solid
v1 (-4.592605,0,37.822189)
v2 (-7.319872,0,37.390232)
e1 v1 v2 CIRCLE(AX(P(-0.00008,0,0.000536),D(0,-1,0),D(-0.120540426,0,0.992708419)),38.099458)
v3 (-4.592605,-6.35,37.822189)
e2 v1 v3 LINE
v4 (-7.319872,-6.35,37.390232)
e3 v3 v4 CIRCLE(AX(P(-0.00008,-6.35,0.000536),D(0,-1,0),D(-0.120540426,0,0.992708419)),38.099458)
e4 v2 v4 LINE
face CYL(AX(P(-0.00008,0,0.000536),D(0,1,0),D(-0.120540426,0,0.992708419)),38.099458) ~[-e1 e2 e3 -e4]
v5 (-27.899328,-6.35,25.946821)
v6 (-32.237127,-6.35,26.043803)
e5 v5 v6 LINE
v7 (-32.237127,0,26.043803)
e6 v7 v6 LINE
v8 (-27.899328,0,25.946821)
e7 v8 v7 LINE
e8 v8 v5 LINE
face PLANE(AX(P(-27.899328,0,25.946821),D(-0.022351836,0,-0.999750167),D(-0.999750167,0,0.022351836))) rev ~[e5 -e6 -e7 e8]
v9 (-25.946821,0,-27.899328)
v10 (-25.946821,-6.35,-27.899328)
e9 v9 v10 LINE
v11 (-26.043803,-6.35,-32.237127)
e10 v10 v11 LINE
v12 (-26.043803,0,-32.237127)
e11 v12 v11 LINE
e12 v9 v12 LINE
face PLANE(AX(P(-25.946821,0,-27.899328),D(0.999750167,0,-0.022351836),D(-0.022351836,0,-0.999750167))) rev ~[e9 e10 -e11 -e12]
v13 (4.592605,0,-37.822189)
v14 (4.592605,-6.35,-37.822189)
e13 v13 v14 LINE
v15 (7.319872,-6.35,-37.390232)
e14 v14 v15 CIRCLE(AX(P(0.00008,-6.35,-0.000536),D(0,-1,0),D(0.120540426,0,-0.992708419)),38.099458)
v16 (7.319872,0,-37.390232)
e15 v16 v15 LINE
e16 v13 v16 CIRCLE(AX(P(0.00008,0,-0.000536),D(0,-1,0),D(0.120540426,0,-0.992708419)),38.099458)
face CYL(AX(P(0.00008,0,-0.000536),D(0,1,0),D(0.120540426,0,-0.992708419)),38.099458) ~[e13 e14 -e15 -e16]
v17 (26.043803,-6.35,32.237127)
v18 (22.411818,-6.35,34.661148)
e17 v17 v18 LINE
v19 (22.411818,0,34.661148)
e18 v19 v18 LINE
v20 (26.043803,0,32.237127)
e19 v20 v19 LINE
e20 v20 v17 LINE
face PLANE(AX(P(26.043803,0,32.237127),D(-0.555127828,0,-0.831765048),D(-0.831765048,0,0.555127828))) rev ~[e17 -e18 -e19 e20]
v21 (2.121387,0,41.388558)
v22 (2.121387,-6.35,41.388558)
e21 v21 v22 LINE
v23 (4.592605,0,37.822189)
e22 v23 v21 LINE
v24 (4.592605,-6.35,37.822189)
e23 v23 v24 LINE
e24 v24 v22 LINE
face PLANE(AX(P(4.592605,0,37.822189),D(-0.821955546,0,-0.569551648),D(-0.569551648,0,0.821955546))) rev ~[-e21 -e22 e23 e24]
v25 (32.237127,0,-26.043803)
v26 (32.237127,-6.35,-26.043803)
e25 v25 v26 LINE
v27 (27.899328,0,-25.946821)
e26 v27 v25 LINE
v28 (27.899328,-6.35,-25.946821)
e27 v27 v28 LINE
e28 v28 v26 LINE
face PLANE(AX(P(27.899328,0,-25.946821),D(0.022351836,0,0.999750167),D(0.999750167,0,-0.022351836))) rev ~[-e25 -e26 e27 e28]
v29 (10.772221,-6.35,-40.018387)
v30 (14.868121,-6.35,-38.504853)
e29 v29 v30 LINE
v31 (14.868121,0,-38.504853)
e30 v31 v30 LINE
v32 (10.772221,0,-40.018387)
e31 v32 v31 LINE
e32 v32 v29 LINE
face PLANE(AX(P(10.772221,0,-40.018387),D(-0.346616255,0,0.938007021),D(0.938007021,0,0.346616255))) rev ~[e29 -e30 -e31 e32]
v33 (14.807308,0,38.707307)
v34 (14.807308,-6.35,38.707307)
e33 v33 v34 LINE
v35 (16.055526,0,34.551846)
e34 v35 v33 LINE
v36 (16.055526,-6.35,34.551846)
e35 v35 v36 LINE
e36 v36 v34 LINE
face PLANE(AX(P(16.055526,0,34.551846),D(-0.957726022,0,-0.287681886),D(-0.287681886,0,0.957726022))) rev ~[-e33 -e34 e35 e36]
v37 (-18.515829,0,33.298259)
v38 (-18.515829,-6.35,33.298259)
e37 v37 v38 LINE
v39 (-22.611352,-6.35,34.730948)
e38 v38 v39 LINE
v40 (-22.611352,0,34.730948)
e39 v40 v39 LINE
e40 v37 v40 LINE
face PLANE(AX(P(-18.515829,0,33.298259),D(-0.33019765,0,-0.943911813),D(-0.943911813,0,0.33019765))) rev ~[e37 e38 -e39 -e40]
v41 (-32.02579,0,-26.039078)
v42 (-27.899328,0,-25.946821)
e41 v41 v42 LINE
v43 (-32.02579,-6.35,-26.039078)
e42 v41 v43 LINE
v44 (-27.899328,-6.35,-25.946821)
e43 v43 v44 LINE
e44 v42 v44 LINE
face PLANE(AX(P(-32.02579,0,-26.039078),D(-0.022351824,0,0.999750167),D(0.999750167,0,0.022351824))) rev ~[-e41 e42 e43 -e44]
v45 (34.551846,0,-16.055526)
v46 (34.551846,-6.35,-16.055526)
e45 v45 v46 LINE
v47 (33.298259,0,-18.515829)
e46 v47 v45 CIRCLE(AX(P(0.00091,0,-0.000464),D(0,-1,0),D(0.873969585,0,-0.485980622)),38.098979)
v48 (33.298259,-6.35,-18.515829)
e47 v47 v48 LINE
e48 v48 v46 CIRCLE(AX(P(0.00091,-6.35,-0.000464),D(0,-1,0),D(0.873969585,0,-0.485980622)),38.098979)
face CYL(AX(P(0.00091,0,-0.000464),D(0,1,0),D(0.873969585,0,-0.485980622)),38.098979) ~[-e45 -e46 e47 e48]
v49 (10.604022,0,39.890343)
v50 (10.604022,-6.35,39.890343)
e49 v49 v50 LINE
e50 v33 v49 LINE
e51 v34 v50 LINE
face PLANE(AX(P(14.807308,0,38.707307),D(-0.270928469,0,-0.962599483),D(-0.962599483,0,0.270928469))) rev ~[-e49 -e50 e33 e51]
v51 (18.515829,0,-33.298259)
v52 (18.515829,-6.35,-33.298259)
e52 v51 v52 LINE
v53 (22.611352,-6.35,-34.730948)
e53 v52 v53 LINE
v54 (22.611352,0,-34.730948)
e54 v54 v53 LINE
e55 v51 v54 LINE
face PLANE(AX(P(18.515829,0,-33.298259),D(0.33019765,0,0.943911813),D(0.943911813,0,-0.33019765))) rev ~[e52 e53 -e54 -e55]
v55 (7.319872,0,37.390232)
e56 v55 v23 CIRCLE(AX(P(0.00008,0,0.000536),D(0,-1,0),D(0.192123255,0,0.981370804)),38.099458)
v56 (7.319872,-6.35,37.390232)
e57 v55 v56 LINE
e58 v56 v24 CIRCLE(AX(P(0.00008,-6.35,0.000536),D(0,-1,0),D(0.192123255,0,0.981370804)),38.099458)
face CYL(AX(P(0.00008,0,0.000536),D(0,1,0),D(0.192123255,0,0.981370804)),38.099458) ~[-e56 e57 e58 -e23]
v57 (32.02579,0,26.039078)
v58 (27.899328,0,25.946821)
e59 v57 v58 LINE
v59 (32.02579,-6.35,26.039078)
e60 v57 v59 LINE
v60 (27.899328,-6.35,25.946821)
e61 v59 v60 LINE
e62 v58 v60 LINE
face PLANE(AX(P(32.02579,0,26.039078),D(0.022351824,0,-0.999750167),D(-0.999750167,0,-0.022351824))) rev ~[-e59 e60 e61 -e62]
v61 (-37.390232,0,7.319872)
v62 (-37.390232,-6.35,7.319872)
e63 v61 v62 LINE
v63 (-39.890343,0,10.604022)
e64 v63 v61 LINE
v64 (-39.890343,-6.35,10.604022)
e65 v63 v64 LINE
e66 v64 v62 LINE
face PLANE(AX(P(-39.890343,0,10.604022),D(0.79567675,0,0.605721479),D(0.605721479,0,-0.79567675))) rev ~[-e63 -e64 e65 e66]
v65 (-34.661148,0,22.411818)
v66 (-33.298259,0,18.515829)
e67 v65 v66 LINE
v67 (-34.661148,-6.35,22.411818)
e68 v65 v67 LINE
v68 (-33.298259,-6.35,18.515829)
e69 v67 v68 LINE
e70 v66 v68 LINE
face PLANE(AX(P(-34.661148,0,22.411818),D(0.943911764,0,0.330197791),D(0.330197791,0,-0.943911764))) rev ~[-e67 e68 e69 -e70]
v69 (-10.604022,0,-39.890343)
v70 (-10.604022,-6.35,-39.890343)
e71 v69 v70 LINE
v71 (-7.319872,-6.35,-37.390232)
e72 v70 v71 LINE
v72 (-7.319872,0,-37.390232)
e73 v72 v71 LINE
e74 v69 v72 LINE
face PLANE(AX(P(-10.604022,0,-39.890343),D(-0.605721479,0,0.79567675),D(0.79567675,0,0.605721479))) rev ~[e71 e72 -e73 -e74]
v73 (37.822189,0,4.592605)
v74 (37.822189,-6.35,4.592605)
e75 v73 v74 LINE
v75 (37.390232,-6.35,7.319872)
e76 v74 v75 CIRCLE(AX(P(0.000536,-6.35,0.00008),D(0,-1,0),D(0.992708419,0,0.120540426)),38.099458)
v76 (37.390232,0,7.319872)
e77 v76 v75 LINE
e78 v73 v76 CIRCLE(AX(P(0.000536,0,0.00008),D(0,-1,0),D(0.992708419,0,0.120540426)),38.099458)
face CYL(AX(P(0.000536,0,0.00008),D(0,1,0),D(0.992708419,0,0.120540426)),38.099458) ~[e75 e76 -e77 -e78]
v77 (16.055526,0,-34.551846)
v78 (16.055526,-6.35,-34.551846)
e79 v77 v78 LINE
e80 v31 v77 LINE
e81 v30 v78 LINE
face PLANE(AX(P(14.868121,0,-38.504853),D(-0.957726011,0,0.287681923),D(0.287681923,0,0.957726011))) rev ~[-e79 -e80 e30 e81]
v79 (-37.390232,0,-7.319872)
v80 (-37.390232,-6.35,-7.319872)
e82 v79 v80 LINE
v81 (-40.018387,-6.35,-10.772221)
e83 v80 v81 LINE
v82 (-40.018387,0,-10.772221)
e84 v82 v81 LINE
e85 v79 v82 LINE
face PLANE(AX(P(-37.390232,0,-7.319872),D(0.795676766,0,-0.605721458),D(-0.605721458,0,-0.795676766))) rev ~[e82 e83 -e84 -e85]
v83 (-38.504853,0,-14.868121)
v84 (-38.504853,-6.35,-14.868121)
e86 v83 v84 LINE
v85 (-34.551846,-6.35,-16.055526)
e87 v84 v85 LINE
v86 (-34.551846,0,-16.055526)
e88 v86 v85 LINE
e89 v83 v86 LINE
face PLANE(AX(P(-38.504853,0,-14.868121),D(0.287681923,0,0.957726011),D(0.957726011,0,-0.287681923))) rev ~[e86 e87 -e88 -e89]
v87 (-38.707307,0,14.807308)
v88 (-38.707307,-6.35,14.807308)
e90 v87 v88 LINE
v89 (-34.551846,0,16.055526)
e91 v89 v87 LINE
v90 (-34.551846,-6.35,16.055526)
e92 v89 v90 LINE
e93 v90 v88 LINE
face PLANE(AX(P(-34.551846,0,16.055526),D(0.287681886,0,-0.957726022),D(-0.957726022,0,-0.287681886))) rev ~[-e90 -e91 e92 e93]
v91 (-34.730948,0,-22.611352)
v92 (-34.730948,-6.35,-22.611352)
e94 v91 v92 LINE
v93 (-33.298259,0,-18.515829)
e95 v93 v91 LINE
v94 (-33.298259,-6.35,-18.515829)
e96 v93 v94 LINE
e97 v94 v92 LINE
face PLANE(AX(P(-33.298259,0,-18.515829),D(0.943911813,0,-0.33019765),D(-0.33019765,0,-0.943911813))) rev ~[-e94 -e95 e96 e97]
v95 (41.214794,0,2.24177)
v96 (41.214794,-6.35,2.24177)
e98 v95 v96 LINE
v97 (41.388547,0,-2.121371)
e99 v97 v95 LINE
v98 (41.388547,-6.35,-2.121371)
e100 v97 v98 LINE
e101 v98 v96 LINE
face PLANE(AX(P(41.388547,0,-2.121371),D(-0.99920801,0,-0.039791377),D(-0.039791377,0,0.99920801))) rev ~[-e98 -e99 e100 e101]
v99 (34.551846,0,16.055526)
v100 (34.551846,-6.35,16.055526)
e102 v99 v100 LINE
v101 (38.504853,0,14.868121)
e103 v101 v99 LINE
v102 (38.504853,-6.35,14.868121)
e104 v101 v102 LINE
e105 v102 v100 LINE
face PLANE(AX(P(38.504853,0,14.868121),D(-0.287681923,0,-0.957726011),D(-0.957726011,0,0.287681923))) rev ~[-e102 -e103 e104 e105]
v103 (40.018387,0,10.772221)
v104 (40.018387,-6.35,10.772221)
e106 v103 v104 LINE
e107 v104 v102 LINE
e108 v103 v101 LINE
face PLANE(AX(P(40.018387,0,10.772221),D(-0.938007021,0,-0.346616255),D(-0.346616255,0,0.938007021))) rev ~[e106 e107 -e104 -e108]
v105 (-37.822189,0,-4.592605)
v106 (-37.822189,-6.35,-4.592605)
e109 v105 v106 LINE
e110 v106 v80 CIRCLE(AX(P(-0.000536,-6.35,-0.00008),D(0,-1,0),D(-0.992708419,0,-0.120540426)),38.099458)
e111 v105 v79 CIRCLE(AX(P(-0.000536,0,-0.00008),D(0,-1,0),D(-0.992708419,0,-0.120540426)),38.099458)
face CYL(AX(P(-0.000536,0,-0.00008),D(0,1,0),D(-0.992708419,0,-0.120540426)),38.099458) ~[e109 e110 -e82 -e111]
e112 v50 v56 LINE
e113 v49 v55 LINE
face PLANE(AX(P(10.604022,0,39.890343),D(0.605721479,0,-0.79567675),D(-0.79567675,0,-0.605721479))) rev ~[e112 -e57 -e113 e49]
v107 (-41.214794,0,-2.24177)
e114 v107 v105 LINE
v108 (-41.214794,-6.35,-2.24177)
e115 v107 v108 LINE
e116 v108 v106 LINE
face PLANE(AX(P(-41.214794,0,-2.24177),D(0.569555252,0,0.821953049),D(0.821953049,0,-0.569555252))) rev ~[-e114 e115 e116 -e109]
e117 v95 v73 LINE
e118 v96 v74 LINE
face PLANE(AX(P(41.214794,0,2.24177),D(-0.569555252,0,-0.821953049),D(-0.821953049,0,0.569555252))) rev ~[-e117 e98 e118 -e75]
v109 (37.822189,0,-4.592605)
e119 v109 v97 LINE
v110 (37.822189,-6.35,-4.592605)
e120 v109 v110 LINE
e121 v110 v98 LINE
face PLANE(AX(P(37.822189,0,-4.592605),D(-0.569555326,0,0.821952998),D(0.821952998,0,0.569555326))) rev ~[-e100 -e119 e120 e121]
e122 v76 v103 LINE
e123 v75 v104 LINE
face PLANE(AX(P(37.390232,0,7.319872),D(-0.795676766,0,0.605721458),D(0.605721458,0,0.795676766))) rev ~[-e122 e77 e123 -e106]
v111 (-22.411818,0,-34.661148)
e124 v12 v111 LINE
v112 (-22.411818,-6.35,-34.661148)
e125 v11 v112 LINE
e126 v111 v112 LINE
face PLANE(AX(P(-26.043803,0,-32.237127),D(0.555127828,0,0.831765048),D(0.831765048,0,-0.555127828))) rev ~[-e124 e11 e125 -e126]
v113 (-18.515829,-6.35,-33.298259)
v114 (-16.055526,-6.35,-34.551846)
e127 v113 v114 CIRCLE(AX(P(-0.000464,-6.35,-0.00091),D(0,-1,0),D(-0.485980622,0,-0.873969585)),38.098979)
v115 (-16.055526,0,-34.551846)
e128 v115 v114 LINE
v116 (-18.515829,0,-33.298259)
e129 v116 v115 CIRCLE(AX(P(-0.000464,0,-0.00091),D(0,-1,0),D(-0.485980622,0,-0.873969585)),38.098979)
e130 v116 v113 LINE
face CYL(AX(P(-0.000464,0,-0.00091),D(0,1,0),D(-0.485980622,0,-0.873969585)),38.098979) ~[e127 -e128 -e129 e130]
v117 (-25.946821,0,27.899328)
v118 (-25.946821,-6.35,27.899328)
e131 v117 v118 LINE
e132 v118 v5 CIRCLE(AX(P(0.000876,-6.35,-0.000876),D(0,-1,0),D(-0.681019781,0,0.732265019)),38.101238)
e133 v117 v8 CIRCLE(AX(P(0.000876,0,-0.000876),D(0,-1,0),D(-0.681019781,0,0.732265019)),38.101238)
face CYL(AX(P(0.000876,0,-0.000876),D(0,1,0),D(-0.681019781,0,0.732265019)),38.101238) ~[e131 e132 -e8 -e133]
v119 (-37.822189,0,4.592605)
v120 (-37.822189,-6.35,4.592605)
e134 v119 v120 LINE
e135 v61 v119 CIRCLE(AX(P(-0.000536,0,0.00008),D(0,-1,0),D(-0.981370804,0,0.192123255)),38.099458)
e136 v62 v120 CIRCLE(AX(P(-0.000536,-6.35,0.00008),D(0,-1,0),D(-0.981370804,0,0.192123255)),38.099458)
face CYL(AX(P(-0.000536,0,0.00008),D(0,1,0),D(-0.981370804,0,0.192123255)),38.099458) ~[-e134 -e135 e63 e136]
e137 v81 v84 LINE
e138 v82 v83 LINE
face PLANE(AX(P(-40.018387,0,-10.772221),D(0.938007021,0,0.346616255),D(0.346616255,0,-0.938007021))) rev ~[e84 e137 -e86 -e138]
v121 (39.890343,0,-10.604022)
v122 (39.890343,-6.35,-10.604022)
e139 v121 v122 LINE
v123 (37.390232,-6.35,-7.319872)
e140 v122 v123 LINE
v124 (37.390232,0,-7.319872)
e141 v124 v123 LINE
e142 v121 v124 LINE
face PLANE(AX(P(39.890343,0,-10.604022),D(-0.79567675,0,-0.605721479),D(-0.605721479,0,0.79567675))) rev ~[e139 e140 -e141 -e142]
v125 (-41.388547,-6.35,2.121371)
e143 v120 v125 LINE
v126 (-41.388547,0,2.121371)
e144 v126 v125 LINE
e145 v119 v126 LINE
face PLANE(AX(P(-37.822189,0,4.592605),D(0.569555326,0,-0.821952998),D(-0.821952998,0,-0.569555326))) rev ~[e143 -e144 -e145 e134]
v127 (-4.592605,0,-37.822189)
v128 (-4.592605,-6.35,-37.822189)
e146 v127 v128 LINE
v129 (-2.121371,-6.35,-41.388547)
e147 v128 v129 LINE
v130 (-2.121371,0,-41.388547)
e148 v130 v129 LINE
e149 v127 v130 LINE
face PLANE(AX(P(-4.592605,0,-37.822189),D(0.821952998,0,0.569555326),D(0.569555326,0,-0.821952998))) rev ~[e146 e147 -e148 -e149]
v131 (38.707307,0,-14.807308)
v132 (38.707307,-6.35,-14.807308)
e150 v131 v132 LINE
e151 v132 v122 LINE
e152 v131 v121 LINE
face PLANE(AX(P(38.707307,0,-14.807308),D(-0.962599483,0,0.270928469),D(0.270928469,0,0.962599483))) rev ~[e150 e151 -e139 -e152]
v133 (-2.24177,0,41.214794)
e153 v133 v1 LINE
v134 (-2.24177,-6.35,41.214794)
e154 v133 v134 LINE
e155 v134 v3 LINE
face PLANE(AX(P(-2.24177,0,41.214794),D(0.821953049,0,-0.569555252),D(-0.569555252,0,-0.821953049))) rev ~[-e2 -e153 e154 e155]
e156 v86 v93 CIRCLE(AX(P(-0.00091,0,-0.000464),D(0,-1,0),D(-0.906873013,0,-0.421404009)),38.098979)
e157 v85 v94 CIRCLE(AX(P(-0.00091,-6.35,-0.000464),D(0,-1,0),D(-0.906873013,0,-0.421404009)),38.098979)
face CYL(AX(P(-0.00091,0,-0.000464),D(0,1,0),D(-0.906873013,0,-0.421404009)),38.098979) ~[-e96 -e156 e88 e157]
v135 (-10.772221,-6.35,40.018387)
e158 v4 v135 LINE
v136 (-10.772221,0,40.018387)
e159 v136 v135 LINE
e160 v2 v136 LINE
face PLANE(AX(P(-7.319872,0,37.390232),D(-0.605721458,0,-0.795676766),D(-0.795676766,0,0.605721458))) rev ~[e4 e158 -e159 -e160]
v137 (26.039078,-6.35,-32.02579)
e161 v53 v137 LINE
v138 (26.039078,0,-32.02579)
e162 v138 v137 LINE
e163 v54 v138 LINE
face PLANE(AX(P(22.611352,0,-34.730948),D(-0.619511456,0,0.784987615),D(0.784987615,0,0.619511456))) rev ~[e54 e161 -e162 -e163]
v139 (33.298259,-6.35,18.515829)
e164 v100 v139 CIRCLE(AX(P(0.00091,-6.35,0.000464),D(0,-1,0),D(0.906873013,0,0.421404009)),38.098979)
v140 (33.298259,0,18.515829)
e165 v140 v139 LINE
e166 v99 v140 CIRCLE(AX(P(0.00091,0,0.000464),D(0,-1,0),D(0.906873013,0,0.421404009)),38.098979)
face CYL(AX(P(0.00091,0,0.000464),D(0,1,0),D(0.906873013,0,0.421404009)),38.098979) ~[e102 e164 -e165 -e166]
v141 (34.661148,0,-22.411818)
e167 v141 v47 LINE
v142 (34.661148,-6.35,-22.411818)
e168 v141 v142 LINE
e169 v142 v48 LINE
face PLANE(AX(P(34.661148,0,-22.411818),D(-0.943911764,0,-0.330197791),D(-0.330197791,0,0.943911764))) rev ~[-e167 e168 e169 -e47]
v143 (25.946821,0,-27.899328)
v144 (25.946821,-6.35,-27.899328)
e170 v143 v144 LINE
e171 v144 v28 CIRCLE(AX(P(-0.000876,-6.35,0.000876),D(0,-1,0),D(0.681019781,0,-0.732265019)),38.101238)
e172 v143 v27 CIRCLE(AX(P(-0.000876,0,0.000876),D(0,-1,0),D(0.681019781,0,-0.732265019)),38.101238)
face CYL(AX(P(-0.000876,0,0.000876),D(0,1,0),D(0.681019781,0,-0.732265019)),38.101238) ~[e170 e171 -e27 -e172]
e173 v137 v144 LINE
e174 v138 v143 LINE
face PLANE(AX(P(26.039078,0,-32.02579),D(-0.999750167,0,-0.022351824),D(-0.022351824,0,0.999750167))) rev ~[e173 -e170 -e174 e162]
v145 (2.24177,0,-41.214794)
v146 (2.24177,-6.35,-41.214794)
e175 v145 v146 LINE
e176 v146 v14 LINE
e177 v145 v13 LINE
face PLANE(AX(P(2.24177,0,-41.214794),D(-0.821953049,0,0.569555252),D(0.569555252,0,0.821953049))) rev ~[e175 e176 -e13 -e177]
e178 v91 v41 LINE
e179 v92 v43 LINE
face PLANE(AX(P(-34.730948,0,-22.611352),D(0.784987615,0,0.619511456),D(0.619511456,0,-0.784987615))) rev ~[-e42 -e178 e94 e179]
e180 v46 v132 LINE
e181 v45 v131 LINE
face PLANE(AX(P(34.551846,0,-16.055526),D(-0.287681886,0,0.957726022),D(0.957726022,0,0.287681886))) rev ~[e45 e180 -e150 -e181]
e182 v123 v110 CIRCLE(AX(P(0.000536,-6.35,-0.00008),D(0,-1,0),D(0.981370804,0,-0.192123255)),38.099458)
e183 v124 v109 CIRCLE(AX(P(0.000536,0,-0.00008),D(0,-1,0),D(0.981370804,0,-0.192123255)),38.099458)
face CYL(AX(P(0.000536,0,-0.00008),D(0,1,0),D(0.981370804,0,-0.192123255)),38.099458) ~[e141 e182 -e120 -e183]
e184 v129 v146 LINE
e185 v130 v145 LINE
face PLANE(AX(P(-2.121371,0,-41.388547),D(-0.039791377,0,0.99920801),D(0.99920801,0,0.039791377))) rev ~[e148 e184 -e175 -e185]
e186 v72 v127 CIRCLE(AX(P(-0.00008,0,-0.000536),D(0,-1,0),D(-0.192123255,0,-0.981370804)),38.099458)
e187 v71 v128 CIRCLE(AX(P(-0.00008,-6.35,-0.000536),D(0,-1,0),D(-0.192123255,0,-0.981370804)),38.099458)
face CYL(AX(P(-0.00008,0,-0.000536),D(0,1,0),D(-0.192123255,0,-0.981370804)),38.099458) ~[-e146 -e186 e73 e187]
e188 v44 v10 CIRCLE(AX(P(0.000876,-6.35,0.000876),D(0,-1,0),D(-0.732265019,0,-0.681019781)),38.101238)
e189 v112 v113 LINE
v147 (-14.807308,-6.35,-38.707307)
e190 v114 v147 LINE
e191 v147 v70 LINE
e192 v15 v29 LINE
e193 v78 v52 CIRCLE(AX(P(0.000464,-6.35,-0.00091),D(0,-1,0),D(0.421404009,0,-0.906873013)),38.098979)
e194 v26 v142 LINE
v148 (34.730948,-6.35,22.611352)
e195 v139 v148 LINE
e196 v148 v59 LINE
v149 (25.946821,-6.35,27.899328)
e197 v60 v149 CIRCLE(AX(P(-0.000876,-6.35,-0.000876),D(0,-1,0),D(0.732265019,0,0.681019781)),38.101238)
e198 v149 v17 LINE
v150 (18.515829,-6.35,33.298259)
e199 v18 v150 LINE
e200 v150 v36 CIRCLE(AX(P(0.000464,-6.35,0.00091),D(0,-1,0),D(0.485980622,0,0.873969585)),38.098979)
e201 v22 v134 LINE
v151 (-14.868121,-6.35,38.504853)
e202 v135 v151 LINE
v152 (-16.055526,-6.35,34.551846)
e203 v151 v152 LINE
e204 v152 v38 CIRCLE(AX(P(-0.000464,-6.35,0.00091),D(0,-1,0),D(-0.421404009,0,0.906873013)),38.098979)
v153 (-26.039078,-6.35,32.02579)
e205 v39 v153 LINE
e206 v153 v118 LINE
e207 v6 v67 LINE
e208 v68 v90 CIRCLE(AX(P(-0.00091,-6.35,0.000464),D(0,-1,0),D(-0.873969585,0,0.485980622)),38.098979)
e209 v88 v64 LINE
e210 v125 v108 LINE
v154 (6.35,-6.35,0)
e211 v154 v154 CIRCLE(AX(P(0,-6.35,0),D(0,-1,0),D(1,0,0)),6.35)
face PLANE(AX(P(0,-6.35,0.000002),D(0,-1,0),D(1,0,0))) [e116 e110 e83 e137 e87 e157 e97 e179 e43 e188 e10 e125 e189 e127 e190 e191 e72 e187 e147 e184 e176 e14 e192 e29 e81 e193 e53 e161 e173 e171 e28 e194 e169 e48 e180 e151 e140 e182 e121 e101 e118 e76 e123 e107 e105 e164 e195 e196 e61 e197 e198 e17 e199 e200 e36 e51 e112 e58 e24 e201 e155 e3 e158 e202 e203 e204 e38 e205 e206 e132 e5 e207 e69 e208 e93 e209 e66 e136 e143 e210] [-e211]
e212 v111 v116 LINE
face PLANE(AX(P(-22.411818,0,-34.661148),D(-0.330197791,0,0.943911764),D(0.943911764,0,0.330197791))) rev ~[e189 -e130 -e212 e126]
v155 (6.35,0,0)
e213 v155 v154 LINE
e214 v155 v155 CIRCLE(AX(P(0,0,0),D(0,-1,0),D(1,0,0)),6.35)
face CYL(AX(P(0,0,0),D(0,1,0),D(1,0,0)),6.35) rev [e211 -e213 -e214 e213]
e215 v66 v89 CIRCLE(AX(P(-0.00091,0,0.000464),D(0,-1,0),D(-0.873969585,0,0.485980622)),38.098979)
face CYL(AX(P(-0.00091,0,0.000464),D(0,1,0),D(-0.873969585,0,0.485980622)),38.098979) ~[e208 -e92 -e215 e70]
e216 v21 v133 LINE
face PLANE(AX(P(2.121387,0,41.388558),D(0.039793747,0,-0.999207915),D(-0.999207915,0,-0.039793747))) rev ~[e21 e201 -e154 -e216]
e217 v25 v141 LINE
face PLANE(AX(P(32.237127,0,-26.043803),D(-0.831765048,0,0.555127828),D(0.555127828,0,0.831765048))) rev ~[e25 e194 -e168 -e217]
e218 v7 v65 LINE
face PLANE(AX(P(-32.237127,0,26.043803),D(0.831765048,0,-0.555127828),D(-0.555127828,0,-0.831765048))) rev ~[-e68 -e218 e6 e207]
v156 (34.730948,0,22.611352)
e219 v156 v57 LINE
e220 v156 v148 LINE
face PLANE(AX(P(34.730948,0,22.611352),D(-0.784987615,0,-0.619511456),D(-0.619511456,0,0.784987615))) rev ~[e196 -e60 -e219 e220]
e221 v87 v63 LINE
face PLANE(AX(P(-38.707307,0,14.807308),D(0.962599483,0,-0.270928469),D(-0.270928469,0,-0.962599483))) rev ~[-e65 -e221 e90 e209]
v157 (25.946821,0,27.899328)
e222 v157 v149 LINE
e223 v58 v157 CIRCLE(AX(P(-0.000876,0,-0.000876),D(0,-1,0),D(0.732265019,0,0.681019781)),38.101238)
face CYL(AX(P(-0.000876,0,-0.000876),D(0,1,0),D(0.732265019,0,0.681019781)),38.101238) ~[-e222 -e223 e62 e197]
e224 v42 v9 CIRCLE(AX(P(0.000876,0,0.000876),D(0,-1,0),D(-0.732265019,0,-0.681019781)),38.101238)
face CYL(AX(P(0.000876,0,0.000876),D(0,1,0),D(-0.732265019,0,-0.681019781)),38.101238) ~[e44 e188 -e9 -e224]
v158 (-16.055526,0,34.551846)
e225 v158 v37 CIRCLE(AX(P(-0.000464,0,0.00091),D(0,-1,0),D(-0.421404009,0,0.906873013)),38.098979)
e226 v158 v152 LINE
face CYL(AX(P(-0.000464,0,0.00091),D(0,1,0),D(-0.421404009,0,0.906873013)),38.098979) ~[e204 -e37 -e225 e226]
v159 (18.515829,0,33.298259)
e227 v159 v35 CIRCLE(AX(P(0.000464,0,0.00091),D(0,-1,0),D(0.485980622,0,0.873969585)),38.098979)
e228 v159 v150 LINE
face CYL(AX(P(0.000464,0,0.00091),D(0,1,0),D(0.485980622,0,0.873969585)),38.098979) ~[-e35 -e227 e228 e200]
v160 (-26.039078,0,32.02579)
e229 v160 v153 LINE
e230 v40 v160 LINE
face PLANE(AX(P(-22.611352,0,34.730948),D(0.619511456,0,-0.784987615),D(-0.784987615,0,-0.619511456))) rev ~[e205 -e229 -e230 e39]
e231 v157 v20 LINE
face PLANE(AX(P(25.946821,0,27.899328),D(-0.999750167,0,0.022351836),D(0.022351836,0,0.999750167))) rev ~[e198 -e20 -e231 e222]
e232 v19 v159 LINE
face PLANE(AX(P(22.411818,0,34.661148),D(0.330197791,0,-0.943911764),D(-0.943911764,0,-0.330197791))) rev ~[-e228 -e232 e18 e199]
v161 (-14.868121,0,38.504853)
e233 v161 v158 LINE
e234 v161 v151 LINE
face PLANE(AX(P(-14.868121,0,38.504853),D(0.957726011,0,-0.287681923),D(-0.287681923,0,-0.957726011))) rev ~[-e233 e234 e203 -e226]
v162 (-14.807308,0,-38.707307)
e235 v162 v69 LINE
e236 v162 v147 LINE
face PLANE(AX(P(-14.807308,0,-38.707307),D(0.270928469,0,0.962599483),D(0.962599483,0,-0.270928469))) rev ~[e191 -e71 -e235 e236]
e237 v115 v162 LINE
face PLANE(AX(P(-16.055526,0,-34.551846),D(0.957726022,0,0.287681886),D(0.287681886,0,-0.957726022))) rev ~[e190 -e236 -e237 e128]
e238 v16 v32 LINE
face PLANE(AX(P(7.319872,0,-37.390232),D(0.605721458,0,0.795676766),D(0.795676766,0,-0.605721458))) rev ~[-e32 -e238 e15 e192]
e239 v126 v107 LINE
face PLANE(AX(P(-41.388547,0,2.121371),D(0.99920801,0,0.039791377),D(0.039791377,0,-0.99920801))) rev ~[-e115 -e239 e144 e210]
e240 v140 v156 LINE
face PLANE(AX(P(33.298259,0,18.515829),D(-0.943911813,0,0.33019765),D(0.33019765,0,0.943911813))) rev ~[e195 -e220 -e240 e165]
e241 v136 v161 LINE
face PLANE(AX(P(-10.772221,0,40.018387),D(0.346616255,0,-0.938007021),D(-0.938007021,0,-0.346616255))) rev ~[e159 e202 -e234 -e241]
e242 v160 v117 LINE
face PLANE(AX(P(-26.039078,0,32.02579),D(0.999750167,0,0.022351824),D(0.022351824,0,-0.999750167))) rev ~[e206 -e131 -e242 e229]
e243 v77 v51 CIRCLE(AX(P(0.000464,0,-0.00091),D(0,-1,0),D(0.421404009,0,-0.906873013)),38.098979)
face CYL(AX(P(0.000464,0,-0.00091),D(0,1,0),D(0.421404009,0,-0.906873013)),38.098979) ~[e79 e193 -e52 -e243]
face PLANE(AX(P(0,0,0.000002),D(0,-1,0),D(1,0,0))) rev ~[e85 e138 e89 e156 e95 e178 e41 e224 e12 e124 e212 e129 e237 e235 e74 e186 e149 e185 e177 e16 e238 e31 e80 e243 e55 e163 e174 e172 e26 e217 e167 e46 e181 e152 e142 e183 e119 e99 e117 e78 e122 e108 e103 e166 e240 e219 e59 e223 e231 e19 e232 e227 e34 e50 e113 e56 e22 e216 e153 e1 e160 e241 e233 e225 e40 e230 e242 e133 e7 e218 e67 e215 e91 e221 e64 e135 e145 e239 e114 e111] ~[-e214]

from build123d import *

# Parameters (mm, degrees)
F0_R     = 6.35
F1_DEPTH = 6.35


with BuildPart() as f1:
    # F0 (on Front) → F1 (new body)
    with BuildSketch(Plane.XZ):
        with BuildLine():
            Line((-2.24177, 41.214794), (-4.592605, 37.822189))
            ThreePointArc((-4.592605, 37.822189), (-5.960153, 37.630926), (-7.319872, 37.390232))
            Line((-7.319872, 37.390232), (-10.772221, 40.018387))
            Line((-10.772221, 40.018387), (-14.868121, 38.504853))
            Line((-14.868121, 38.504853), (-16.055526, 34.551846))
            ThreePointArc((-16.055526, 34.551846), (-17.297038, 33.947349), (-18.515829, 33.298259))
            Line((-18.515829, 33.298259), (-22.611352, 34.730948))
            Line((-22.611352, 34.730948), (-26.039078, 32.02579))
            Line((-26.039078, 32.02579), (-25.946821, 27.899328))
            ThreePointArc((-25.946821, 27.899328), (-26.940768, 26.940768), (-27.899328, 25.946821))
            Line((-27.899328, 25.946821), (-32.237127, 26.043803))
            Line((-32.237127, 26.043803), (-34.661148, 22.411818))
            Line((-34.661148, 22.411818), (-33.298259, 18.515829))
            ThreePointArc((-33.298259, 18.515829), (-33.947349, 17.297038), (-34.551846, 16.055526))
            Line((-34.551846, 16.055526), (-38.707307, 14.807308))
            Line((-38.707307, 14.807308), (-39.890343, 10.604022))
            Line((-39.890343, 10.604022), (-37.390232, 7.319872))
            ThreePointArc((-37.390232, 7.319872), (-37.630926, 5.960153), (-37.822189, 4.592605))
            Line((-37.822189, 4.592605), (-41.388547, 2.121371))
            Line((-41.388547, 2.121371), (-41.214794, -2.24177))
            Line((-41.214794, -2.24177), (-37.822189, -4.592605))
            ThreePointArc((-37.822189, -4.592605), (-37.630926, -5.960153), (-37.390232, -7.319872))
            Line((-37.390232, -7.319872), (-40.018387, -10.772221))
            Line((-40.018387, -10.772221), (-38.504853, -14.868121))
            Line((-38.504853, -14.868121), (-34.551846, -16.055526))
            ThreePointArc((-34.551846, -16.055526), (-33.947349, -17.297038), (-33.298259, -18.515829))
            Line((-33.298259, -18.515829), (-34.730948, -22.611352))
            Line((-34.730948, -22.611352), (-32.02579, -26.039078))
            Line((-32.02579, -26.039078), (-27.899328, -25.946821))
            ThreePointArc((-27.899328, -25.946821), (-26.940768, -26.940768), (-25.946821, -27.899328))
            Line((-25.946821, -27.899328), (-26.043803, -32.237127))
            Line((-26.043803, -32.237127), (-22.411818, -34.661148))
            Line((-22.411818, -34.661148), (-18.515829, -33.298259))
            ThreePointArc((-18.515829, -33.298259), (-17.297038, -33.947349), (-16.055526, -34.551846))
            Line((-16.055526, -34.551846), (-14.807308, -38.707307))
            Line((-14.807308, -38.707307), (-10.604022, -39.890343))
            Line((-10.604022, -39.890343), (-7.319872, -37.390232))
            ThreePointArc((-7.319872, -37.390232), (-5.960153, -37.630926), (-4.592605, -37.822189))
            Line((-4.592605, -37.822189), (-2.121371, -41.388547))
            Line((-2.121371, -41.388547), (2.24177, -41.214794))
            Line((2.24177, -41.214794), (4.592605, -37.822189))
            ThreePointArc((4.592605, -37.822189), (5.960153, -37.630926), (7.319872, -37.390232))
            Line((7.319872, -37.390232), (10.772221, -40.018387))
            Line((10.772221, -40.018387), (14.868121, -38.504853))
            Line((14.868121, -38.504853), (16.055526, -34.551846))
            ThreePointArc((16.055526, -34.551846), (17.297038, -33.947349), (18.515829, -33.298259))
            Line((18.515829, -33.298259), (22.611352, -34.730948))
            Line((22.611352, -34.730948), (26.039078, -32.02579))
            Line((26.039078, -32.02579), (25.946821, -27.899328))
            ThreePointArc((25.946821, -27.899328), (26.940768, -26.940768), (27.899328, -25.946821))
            Line((27.899328, -25.946821), (32.237127, -26.043803))
            Line((32.237127, -26.043803), (34.661148, -22.411818))
            Line((34.661148, -22.411818), (33.298259, -18.515829))
            ThreePointArc((33.298259, -18.515829), (33.947349, -17.297038), (34.551846, -16.055526))
            Line((34.551846, -16.055526), (38.707307, -14.807308))
            Line((38.707307, -14.807308), (39.890343, -10.604022))
            Line((39.890343, -10.604022), (37.390232, -7.319872))
            ThreePointArc((37.390232, -7.319872), (37.630926, -5.960153), (37.822189, -4.592605))
            Line((37.822189, -4.592605), (41.388547, -2.121371))
            Line((41.388547, -2.121371), (41.214794, 2.24177))
            Line((41.214794, 2.24177), (37.822189, 4.592605))
            ThreePointArc((37.822189, 4.592605), (37.630926, 5.960153), (37.390232, 7.319872))
            Line((37.390232, 7.319872), (40.018387, 10.772221))
            Line((40.018387, 10.772221), (38.504853, 14.868121))
            Line((38.504853, 14.868121), (34.551846, 16.055526))
            ThreePointArc((34.551846, 16.055526), (33.947349, 17.297038), (33.298259, 18.515829))
            Line((33.298259, 18.515829), (34.730948, 22.611352))
            Line((34.730948, 22.611352), (32.02579, 26.039078))
            Line((32.02579, 26.039078), (27.899328, 25.946821))
            ThreePointArc((27.899328, 25.946821), (26.940768, 26.940768), (25.946821, 27.899328))
            Line((25.946821, 27.899328), (26.043803, 32.237127))
            Line((26.043803, 32.237127), (22.411818, 34.661148))
            Line((22.411818, 34.661148), (18.515829, 33.298259))
            ThreePointArc((18.515829, 33.298259), (17.297038, 33.947349), (16.055526, 34.551846))
            Line((16.055526, 34.551846), (14.807308, 38.707307))
            Line((14.807308, 38.707307), (10.604022, 39.890343))
            Line((10.604022, 39.890343), (7.319872, 37.390232))
            ThreePointArc((7.319872, 37.390232), (5.960153, 37.630926), (4.592605, 37.822189))
            Line((4.592605, 37.822189), (2.121387, 41.388558))
            Line((2.121387, 41.388558), (-2.24177, 41.214794))
        make_face()
        Circle(F0_R, mode=Mode.SUBTRACT)
    extrude(amount=F1_DEPTH)


solid = f1.part
